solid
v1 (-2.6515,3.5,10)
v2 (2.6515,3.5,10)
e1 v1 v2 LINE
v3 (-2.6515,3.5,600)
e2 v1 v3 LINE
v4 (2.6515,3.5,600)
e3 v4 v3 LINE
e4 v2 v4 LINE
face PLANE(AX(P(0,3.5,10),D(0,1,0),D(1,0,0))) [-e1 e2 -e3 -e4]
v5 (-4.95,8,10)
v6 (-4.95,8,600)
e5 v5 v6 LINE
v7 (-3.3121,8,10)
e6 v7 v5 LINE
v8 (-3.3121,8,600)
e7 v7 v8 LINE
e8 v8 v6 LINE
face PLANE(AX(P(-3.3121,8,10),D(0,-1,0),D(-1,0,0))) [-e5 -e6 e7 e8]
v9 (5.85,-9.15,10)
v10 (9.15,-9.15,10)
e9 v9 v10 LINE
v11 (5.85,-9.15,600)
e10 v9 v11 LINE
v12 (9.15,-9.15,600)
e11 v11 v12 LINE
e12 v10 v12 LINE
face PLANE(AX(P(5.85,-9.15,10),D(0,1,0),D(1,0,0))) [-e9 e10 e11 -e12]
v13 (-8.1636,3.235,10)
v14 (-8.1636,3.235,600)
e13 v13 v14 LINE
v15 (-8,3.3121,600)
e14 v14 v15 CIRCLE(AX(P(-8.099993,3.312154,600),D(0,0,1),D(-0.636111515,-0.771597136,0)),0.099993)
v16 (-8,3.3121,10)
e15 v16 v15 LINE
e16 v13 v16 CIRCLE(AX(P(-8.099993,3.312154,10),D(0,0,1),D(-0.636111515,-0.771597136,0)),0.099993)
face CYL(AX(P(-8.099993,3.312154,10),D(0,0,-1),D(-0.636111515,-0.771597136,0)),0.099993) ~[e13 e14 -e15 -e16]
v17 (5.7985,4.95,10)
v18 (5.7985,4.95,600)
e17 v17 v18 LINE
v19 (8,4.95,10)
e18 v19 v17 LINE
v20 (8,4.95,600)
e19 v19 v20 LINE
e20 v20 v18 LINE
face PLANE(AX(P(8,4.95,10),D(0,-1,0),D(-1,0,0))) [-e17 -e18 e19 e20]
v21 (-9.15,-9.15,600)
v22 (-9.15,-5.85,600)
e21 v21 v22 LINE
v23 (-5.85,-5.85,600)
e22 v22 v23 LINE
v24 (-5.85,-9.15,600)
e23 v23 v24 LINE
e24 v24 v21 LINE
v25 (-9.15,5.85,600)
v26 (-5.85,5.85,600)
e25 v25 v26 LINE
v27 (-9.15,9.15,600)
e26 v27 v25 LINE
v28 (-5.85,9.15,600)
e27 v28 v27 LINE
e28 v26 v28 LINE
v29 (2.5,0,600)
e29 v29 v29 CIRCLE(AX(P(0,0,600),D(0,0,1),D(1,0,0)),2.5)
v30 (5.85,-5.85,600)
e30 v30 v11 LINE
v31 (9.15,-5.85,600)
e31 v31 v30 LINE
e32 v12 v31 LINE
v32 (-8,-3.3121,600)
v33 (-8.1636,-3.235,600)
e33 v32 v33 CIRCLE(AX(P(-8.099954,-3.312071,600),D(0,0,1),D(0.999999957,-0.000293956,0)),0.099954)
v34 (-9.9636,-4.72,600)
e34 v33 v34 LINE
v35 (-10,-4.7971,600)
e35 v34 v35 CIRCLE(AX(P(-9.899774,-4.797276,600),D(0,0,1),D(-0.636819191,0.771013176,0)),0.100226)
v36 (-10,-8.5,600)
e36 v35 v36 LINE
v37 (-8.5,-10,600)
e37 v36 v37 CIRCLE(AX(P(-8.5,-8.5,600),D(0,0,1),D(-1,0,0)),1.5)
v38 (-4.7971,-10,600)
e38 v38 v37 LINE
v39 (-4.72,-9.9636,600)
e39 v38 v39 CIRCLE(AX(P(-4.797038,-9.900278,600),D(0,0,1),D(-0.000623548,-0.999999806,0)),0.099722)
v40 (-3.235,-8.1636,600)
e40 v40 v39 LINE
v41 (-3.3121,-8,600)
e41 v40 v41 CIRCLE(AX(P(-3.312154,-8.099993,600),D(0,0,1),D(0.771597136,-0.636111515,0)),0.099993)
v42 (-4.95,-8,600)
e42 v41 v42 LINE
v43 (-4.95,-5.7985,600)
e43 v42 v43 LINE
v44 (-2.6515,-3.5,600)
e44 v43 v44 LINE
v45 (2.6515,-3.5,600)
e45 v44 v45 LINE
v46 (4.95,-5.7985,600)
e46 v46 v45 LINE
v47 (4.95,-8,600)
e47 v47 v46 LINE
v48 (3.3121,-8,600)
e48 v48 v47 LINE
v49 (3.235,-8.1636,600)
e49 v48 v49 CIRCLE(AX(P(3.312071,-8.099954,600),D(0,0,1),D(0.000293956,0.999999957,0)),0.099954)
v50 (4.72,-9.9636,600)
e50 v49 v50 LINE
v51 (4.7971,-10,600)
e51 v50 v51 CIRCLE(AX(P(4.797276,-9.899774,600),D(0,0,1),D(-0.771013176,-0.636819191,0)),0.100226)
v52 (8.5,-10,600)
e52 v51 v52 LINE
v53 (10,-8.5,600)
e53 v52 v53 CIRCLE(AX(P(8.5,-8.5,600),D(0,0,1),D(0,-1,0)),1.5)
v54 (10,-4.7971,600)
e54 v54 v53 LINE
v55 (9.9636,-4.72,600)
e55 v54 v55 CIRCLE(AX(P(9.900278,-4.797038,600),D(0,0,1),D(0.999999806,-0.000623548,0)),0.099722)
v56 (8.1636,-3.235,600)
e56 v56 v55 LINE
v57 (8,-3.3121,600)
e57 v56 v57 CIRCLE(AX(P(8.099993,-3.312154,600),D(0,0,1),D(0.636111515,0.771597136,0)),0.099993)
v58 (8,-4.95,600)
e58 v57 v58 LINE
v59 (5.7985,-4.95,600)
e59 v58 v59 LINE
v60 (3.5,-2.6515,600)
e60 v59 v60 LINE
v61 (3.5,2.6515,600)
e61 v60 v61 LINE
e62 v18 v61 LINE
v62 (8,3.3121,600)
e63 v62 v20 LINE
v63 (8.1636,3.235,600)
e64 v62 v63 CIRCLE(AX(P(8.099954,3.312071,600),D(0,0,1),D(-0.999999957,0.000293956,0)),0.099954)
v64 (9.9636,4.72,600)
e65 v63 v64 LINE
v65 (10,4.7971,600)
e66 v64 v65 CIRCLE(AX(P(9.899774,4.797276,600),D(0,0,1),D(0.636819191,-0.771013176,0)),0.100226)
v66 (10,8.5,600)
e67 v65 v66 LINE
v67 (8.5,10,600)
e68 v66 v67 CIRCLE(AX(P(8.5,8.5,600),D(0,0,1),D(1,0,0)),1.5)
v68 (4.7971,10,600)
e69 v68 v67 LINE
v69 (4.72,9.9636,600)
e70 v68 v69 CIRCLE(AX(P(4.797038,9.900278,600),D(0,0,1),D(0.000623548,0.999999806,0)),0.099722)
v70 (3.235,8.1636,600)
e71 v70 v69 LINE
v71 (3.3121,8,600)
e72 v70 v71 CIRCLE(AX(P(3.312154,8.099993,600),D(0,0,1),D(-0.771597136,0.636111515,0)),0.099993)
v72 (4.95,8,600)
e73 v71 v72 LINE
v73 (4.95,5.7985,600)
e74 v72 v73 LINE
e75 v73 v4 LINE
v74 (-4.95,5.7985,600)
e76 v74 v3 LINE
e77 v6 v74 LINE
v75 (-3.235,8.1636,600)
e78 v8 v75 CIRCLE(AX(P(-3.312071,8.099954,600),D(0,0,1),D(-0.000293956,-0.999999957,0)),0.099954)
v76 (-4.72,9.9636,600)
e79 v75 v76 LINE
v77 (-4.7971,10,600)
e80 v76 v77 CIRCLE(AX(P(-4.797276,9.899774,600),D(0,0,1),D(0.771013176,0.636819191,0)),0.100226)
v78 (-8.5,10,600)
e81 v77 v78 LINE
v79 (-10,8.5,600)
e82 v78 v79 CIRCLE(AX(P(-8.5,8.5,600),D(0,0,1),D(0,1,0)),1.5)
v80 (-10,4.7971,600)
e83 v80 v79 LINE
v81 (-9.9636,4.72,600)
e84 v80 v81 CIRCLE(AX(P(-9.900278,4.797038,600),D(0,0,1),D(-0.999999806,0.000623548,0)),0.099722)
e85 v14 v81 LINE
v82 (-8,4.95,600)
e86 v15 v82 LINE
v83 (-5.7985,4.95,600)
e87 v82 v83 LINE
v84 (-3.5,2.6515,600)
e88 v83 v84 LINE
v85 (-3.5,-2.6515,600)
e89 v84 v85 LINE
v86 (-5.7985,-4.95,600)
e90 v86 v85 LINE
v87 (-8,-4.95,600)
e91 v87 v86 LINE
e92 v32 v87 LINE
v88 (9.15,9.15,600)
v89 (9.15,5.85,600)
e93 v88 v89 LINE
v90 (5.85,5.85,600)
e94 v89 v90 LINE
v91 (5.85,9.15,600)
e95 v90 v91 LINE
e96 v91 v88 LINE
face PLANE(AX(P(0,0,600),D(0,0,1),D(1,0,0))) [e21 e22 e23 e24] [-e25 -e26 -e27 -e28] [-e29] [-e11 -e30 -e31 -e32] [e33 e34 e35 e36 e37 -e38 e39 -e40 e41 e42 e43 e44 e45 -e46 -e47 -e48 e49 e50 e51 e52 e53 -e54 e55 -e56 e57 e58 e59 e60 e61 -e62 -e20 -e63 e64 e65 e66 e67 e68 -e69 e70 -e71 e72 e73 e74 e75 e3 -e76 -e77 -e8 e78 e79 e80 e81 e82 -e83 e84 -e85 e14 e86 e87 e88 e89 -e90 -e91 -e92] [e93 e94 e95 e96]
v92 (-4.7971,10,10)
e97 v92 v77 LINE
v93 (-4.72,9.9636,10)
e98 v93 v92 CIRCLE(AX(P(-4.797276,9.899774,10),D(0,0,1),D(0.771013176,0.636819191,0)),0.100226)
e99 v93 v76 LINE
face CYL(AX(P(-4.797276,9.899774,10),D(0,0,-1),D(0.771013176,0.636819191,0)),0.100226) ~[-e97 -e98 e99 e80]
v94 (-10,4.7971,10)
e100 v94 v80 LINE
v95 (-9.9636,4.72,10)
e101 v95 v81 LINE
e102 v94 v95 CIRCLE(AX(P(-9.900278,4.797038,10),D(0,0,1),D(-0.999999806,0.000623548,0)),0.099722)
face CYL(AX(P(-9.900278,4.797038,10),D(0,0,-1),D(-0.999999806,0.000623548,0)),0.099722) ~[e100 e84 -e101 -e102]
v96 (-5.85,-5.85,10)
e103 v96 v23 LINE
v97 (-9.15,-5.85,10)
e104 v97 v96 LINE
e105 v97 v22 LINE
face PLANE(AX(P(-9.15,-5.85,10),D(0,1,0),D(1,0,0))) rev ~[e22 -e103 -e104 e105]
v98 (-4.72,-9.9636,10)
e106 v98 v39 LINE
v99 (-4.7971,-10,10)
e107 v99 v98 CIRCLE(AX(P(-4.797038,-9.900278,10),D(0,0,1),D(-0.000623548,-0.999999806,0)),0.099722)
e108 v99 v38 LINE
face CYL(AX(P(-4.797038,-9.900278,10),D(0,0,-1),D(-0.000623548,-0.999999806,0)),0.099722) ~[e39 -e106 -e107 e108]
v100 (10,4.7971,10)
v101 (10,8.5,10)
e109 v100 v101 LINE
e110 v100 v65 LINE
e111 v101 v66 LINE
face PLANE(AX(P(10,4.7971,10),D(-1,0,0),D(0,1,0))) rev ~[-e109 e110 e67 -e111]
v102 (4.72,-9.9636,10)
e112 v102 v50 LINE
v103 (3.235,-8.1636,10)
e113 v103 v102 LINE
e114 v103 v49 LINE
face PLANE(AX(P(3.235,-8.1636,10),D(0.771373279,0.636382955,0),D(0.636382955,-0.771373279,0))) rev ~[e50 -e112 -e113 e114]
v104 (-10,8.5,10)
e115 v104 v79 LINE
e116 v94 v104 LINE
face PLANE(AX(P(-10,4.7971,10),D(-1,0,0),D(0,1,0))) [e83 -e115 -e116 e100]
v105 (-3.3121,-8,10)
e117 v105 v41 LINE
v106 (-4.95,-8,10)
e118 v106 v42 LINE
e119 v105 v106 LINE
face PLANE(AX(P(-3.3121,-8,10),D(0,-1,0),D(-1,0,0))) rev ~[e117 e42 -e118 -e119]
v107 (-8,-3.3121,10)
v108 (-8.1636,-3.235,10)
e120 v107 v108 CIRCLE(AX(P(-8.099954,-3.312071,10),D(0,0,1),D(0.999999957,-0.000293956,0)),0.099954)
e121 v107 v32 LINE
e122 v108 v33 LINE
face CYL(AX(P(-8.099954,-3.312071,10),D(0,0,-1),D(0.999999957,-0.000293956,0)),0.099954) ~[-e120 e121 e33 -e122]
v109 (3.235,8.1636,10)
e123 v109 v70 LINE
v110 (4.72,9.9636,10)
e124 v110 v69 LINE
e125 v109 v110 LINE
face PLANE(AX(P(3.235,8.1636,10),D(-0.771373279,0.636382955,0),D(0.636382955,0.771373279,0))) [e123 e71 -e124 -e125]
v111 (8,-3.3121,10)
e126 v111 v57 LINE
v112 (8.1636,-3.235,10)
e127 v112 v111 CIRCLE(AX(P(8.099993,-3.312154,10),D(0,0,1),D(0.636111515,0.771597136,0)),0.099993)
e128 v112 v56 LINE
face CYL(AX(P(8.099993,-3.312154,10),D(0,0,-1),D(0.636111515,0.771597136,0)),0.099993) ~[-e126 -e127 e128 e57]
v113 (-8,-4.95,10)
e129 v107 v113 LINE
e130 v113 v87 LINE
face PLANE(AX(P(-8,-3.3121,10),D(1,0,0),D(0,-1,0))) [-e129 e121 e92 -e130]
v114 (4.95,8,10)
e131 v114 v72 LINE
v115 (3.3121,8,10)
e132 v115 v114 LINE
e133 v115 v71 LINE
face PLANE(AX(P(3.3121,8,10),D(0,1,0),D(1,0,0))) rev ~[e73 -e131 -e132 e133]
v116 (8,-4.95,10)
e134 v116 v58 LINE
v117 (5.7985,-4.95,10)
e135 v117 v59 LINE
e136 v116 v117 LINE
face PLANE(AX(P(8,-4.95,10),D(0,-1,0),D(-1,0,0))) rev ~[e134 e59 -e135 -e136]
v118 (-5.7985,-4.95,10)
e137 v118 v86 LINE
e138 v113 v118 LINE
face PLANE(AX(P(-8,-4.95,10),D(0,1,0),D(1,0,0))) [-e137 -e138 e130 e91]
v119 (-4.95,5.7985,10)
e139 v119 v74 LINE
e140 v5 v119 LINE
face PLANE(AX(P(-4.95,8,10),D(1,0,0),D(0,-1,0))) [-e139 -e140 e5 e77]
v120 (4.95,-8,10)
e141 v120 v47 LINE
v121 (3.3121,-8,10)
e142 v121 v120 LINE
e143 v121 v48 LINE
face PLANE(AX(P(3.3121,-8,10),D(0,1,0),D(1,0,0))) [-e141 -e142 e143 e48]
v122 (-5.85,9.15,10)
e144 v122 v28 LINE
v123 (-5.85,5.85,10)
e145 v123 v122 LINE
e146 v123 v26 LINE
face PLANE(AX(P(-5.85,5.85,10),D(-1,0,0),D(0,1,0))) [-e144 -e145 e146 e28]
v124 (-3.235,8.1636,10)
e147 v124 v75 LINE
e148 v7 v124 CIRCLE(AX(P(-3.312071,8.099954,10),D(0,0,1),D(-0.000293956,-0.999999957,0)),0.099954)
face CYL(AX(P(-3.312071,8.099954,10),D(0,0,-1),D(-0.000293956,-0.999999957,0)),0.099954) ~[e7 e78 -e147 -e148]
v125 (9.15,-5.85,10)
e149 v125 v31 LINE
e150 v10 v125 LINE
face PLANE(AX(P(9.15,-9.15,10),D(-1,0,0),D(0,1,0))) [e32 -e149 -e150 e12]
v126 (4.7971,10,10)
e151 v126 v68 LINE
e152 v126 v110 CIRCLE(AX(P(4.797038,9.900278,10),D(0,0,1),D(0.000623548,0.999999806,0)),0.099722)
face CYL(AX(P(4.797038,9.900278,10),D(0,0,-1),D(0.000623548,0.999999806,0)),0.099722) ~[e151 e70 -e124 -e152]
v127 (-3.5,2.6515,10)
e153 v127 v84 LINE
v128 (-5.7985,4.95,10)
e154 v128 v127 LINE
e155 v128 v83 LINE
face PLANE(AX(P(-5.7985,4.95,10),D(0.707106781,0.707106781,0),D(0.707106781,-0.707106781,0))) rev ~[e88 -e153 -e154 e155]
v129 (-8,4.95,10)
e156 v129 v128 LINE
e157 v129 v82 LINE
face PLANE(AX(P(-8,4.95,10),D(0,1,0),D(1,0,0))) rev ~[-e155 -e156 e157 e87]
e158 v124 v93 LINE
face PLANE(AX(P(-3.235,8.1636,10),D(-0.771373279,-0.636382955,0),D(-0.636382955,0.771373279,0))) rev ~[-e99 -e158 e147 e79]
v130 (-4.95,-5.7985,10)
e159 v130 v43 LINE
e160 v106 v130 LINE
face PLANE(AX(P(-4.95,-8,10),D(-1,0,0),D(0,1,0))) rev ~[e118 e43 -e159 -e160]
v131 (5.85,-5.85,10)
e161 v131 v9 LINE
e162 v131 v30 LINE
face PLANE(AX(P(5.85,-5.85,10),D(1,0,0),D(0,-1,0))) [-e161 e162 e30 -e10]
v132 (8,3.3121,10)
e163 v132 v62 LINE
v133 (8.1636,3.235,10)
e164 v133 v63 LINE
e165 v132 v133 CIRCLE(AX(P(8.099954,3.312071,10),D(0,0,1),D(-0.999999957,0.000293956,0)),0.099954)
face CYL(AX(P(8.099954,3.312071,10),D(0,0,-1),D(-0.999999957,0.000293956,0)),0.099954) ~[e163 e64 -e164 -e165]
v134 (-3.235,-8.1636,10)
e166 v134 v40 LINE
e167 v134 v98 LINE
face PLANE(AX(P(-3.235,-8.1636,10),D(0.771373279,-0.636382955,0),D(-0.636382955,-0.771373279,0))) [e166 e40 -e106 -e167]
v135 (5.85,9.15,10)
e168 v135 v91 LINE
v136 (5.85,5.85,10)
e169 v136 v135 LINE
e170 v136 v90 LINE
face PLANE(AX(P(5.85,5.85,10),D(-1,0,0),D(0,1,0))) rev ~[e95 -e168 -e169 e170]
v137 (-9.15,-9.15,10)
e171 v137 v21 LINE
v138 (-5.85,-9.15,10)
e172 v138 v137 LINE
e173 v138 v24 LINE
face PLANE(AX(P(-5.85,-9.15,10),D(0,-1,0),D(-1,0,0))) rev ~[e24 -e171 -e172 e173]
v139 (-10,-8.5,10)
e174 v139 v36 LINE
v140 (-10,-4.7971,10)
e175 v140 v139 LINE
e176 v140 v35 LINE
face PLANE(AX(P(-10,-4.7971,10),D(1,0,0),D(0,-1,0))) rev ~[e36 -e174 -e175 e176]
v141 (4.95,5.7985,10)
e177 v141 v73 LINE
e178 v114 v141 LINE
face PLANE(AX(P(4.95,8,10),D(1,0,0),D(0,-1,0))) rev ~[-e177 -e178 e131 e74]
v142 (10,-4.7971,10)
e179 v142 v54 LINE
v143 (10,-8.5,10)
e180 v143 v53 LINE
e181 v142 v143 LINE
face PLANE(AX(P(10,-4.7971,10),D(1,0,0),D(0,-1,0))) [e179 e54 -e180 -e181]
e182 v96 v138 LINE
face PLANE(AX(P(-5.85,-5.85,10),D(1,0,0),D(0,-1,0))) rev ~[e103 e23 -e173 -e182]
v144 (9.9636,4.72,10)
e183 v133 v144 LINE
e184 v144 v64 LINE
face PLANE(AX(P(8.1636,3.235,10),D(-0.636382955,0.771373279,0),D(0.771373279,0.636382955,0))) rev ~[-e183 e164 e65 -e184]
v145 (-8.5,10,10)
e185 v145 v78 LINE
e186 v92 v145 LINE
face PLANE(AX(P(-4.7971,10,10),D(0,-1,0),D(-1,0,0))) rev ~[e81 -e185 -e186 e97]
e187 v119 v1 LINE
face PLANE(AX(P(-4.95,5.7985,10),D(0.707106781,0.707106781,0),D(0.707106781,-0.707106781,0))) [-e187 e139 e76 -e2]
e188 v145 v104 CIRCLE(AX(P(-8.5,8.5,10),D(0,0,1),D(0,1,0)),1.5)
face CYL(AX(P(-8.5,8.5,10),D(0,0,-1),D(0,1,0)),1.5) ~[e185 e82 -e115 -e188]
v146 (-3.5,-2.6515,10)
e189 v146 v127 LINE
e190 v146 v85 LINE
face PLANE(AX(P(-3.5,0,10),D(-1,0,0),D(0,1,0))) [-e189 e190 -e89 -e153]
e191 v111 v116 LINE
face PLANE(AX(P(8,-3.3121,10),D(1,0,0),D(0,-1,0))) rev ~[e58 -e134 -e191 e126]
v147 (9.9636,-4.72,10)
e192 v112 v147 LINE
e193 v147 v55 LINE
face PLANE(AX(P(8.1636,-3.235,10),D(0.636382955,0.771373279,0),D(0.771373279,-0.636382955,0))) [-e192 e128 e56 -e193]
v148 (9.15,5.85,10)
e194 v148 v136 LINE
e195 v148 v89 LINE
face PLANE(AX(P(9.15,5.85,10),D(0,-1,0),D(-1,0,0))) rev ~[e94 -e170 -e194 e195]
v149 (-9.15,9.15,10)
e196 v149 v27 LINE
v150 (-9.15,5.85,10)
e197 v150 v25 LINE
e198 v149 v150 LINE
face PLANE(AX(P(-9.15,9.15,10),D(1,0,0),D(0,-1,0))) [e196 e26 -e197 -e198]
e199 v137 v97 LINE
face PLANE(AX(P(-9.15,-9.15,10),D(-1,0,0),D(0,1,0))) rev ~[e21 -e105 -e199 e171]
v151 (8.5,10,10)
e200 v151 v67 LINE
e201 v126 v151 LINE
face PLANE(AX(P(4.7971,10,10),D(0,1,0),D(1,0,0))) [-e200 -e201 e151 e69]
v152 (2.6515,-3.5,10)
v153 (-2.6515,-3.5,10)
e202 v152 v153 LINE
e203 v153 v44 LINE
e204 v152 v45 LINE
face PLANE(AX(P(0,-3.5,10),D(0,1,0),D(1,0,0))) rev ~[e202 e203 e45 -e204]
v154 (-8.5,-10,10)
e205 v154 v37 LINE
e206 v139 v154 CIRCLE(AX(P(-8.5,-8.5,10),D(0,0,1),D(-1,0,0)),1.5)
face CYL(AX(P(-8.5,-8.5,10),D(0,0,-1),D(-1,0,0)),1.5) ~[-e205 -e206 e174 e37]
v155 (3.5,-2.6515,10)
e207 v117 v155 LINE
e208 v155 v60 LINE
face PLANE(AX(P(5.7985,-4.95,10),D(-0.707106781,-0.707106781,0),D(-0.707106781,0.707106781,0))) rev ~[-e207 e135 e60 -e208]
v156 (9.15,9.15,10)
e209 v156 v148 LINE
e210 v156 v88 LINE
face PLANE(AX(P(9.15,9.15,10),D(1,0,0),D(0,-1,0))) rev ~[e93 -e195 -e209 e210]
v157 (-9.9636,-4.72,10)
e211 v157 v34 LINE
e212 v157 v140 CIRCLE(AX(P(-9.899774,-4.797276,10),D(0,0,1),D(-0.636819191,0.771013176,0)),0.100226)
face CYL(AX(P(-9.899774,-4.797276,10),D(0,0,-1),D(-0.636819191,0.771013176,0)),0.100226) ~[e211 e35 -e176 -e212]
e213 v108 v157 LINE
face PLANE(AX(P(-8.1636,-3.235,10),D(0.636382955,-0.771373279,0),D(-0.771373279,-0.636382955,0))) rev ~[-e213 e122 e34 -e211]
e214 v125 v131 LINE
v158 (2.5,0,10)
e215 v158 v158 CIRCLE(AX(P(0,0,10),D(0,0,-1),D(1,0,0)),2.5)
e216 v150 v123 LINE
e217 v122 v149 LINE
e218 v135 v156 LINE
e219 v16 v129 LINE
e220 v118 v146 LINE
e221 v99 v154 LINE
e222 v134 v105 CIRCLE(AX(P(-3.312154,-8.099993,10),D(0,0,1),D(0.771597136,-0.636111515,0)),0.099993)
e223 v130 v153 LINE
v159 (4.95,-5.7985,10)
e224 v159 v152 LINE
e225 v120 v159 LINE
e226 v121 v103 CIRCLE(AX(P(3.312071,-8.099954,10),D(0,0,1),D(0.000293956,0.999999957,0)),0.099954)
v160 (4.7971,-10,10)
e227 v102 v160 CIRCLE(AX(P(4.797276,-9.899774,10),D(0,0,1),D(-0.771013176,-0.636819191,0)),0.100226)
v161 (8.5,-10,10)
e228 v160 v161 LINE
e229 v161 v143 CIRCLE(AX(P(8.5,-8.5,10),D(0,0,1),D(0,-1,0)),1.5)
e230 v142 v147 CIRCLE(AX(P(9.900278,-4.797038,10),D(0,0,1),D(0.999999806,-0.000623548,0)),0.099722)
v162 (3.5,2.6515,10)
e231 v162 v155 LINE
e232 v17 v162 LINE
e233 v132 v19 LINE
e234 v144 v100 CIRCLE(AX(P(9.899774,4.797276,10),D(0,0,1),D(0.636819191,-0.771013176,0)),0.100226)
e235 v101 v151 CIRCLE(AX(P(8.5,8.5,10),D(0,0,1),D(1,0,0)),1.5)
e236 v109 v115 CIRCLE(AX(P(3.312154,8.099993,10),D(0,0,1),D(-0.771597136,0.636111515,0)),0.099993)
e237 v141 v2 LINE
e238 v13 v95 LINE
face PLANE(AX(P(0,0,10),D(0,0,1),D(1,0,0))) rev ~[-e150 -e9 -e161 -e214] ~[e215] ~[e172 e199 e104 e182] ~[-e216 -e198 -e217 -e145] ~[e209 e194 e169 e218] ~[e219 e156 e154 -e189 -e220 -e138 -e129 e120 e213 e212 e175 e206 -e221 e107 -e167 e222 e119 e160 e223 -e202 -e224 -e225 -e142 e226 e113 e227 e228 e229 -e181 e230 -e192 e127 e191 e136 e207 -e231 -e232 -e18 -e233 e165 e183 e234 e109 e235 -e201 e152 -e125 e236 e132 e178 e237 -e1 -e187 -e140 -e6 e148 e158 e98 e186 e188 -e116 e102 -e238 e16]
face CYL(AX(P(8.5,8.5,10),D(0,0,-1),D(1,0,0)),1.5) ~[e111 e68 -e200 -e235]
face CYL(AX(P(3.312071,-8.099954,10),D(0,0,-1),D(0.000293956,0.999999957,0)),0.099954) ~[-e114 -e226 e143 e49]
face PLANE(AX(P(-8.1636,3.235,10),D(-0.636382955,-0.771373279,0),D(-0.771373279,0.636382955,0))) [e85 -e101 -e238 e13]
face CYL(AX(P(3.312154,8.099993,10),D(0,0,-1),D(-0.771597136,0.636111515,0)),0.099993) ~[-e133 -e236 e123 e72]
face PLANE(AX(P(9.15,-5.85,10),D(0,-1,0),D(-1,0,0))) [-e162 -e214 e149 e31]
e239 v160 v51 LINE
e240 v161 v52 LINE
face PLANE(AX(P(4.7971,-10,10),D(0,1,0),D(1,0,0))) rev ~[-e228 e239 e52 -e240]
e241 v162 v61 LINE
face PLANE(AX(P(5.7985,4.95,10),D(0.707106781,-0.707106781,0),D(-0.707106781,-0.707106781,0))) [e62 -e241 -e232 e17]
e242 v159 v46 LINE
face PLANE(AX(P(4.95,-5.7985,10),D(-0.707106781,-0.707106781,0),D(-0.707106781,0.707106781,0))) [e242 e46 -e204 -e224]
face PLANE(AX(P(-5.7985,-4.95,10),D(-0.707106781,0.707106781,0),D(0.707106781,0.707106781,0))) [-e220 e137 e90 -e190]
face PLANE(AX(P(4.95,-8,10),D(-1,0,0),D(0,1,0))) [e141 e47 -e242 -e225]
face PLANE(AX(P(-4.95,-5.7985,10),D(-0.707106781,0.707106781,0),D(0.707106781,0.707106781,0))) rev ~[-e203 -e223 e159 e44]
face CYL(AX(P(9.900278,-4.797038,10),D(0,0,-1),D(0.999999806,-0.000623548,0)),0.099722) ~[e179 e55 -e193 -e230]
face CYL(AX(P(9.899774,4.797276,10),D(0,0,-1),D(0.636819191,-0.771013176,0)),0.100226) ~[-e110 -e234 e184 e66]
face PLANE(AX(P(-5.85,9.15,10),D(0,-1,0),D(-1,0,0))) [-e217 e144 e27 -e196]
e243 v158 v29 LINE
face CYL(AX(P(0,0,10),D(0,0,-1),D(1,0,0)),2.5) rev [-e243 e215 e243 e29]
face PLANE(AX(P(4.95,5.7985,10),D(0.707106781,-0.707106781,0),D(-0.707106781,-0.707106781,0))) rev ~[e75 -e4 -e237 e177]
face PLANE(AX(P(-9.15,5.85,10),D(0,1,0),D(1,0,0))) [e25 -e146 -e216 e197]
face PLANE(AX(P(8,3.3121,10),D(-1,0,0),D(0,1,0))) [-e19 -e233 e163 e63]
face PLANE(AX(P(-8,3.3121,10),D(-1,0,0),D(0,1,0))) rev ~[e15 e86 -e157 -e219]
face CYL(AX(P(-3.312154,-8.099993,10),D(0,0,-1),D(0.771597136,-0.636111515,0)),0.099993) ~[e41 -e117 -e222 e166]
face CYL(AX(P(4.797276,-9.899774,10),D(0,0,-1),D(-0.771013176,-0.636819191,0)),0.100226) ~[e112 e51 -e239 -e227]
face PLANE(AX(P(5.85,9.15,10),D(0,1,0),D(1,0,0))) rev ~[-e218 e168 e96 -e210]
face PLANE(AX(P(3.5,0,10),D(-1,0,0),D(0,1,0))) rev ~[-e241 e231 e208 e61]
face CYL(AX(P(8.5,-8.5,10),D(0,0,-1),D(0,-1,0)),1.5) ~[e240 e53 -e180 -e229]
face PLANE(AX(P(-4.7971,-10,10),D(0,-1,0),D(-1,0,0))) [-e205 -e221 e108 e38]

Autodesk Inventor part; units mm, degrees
ref_plane "Начальная плоскость" through (0, 0, 10) normal (0, 0, 1) x (1, 0, 0)
ref_plane "Конечная плоскость" through (0, 0, 600) normal (0, 0, 1) x (1, 0, 0)
sketch "Эскиз" plane through (0, 0, 0) normal (0, 0, 1) x (1, 0, 0)
  line L0 (-14.4349, 0) -> (14.4349, 0) projected
  line L1 (0, -14) -> (0, 14) projected
  line L2 (0, 0) -> (7.5, 7.5) construction
  circle A0 centre (7.5, 7.5) radius 1.65 construction
  line L3 (5.85, 9.15) -> (9.15, 9.15)
  line L4 (9.15, 9.15) -> (9.15, 5.85)
  line L5 (9.15, 5.85) -> (5.85, 5.85)
  line L6 (5.85, 5.85) -> (5.85, 9.15)
  line L7 (3.235, 8.1636) -> (4.72, 9.9636)
  line L8 (4.7971, 10) -> (8.5, 10)
  line L9 (3.3121, 8) -> (4.95, 8)
  line L10 (4.95, 8) -> (4.95, 5.7985)
  line L11 (4.95, 5.7985) -> (2.6515, 3.5)
  line L12 (0, 3.5) -> (2.6515, 3.5)
  circle A1 centre (0, 0) radius 2.5
  line L13 (8.1636, 3.235) -> (9.9636, 4.72)
  line L14 (10, 4.7971) -> (10, 8.5)
  line L15 (8, 3.3121) -> (8, 4.95)
  line L16 (8, 4.95) -> (5.7985, 4.95)
  line L17 (5.7985, 4.95) -> (3.5, 2.6515)
  line L18 (3.5, 0) -> (3.5, 2.6515)
  arc A2 (10, 8.5) -> (8.5, 10) centre (8.5, 8.5) ccw
  line L19 (0, 0) -> (-7.5, 7.5) construction
  circle A3 centre (-7.5, 7.5) radius 1.65 construction
  line L20 (-5.85, 9.15) -> (-9.15, 9.15)
  line L21 (-9.15, 9.15) -> (-9.15, 5.85)
  line L22 (-9.15, 5.85) -> (-5.85, 5.85)
  line L23 (-5.85, 5.85) -> (-5.85, 9.15)
  line L24 (-3.235, 8.1636) -> (-4.72, 9.9636)
  line L25 (-4.7971, 10) -> (-8.5, 10)
  line L26 (-3.3121, 8) -> (-4.95, 8)
  line L27 (-4.95, 8) -> (-4.95, 5.7985)
  line L28 (-4.95, 5.7985) -> (-2.6515, 3.5)
  line L29 (0, 3.5) -> (-2.6515, 3.5)
  line L30 (-3.5, 0) -> (-3.5, 2.6515)
  line L31 (-5.7985, 4.95) -> (-3.5, 2.6515)
  line L32 (-8, 4.95) -> (-5.7985, 4.95)
  line L33 (-8, 3.3121) -> (-8, 4.95)
  line L34 (-8.1636, 3.235) -> (-9.9636, 4.72)
  line L35 (-10, 4.7971) -> (-10, 8.5)
  arc A4 (-8.5, 10) -> (-10, 8.5) centre (-8.5, 8.5) ccw
  line L36 (0, 14) -> (0, -14)
  line L37 (0, 0) -> (7.5, -7.5) construction
  circle A5 centre (7.5, -7.5) radius 1.65 construction
  line L38 (5.85, -9.15) -> (9.15, -9.15)
  line L39 (9.15, -9.15) -> (9.15, -5.85)
  line L40 (9.15, -5.85) -> (5.85, -5.85)
  line L41 (5.85, -5.85) -> (5.85, -9.15)
  line L42 (3.235, -8.1636) -> (4.72, -9.9636)
  line L43 (4.7971, -10) -> (8.5, -10)
  line L44 (3.3121, -8) -> (4.95, -8)
  line L45 (4.95, -8) -> (4.95, -5.7985)
  line L46 (4.95, -5.7985) -> (2.6515, -3.5)
  line L47 (0, -3.5) -> (2.6515, -3.5)
  line L48 (3.5, 0) -> (3.5, -2.6515)
  line L49 (5.7985, -4.95) -> (3.5, -2.6515)
  line L50 (8, -4.95) -> (5.7985, -4.95)
  line L51 (8, -3.3121) -> (8, -4.95)
  line L52 (8.1636, -3.235) -> (9.9636, -4.72)
  line L53 (10, -4.7971) -> (10, -8.5)
  arc A6 (8.5, -10) -> (10, -8.5) centre (8.5, -8.5) ccw
  line L54 (0, 0) -> (-7.5, -7.5) construction
  line L55 (-4.95, -8) -> (-4.95, -5.7985)
  line L56 (-3.3121, -8) -> (-4.95, -8)
  line L57 (-5.7985, -4.95) -> (-3.5, -2.6515)
  line L58 (-4.95, -5.7985) -> (-2.6515, -3.5)
  line L59 (-3.5, 0) -> (-3.5, -2.6515)
  line L60 (0, -3.5) -> (-2.6515, -3.5)
  circle A7 centre (-7.5, -7.5) radius 1.65 construction
  line L61 (-5.85, -5.85) -> (-5.85, -9.15)
  line L62 (-5.85, -9.15) -> (-9.15, -9.15)
  line L63 (-9.15, -9.15) -> (-9.15, -5.85)
  line L64 (-9.15, -5.85) -> (-5.85, -5.85)
  line L65 (-3.235, -8.1636) -> (-4.72, -9.9636)
  line L66 (-8, -4.95) -> (-5.7985, -4.95)
  line L67 (-8, -3.3121) -> (-8, -4.95)
  line L68 (-8.1636, -3.235) -> (-9.9636, -4.72)
  line L69 (-4.7971, -10) -> (-8.5, -10)
  line L70 (-10, -4.7971) -> (-10, -8.5)
  arc A8 (-10, -8.5) -> (-8.5, -10) centre (-8.5, -8.5) ccw
  arc A9 (3.235, 8.1636) -> (3.3121, 8) centre (3.3121, 8.1) ccw
  arc A10 (4.7971, 10) -> (4.72, 9.9636) centre (4.7971, 9.9) ccw
  arc A11 (8, 3.3121) -> (8.1636, 3.235) centre (8.1, 3.3121) ccw
  arc A12 (9.9636, 4.72) -> (10, 4.7971) centre (9.9, 4.7971) ccw
  arc A13 (-3.3121, 8) -> (-3.235, 8.1636) centre (-3.3121, 8.1) ccw
  arc A14 (-4.72, 9.9636) -> (-4.7971, 10) centre (-4.7971, 9.9) ccw
  arc A15 (-8.1636, 3.235) -> (-8, 3.3121) centre (-8.1, 3.3121) ccw
  arc A16 (-10, 4.7971) -> (-9.9636, 4.72) centre (-9.9, 4.7971) ccw
  arc A17 (-8, -3.3121) -> (-8.1636, -3.235) centre (-8.1, -3.3121) ccw
  arc A18 (-9.9636, -4.72) -> (-10, -4.7971) centre (-9.9, -4.7971) ccw
  arc A19 (-3.235, -8.1636) -> (-3.3121, -8) centre (-3.3121, -8.1) ccw
  arc A20 (-4.7971, -10) -> (-4.72, -9.9636) centre (-4.7971, -9.9) ccw
  arc A21 (4.72, -9.9636) -> (4.7971, -10) centre (4.7971, -9.9) ccw
  arc A22 (3.3121, -8) -> (3.235, -8.1636) centre (3.3121, -8.1) ccw
  arc A23 (8.1636, -3.235) -> (8, -3.3121) centre (8.1, -3.3121) ccw
  arc A24 (10, -4.7971) -> (9.9636, -4.72) centre (9.9, -4.7971) ccw
  point P0 (3.1, 8)
  point P1 (4.75, 10)
  point P2 (7.5, 9.15)
  point P3 (8, 3.1)
  point P4 (10, 4.75)
  point P5 (7.5, 5.85)
  point P6 (9.15, 7.5)
  point P7 (-3.1, 8)
  point P8 (-4.75, 10)
  point P9 (-7.5, 9.15)
  point P10 (-8, 3.1)
  point P11 (-10, 4.75)
  point P12 (-7.5, 5.85)
  point P13 (-9.15, 7.5)
  point P14 (3.1, -8)
  point P15 (4.75, -10)
  point P16 (7.5, -9.15)
  point P17 (8, -3.1)
  point P18 (10, -4.75)
  point P19 (7.5, -5.85)
  point P20 (9.15, -7.5)
  point P21 (-3.1, -8)
  point P22 (-7.5, -5.85)
  point P23 (-7.5, -9.15)
  point P24 (-9.15, -7.5)
  point P25 (-4.75, -10)
  point P26 (-8, -3.1)
  point P27 (-10, -4.75)
  dimension "d0" = 45
  dimension "d1" = 3.3
  dimension "d2" = 1.5
  dimension "d3" = 1.2
  dimension "d4" = 5
  dimension "d5" = 6.5
  dimension "d6" = 15
  dimension "d7" = 20
  dimension "d8" = 9.9
  dimension "d9" = 9.5
  dimension "d10" = 6.2
  dimension "d11" = 2
  dimension "d18" = 0.1
  dimension "d19" = 0.1
extrude "Тело" add sketch "Эскиз" along normal up to surface (590 mm away) from surface at 10 contours A1 L1 L12 L11 L10 L9 A9 L7 A10 L8 A2 L14 A12 L13 A11 L15 L16 L17 L18 L0 | L0 L48 L49 L50 L51 A23 L52 A24 L53 A6 L43 A21 L42 A22 L44 L45 L46 L47 L1 A1 | A1 L0 L30 L31 L32 L33 A15 L34 A16 L35 A4 L25 A14 L24 A13 L26 L27 L28 L29 L1 | L1 L60 L58 L55 L56 A19 L65 A20 L69 A8 L70 A18 L68 A17 L67 L66 L57 L59 L0 A1
sketch "Эскиз2" plane through (0, 0, 0) normal (0, 0, 1) x (1, 0, 0)
  line L0 (0, 0) -> (10, 0)
ref_plane "РабПлоскость3" through (0, 0, 0) normal (0, -1, 0) x (1, 0, 0)
sketch "Эскиз3" plane through (0, 0, 0) normal (0, -1, 0) x (1, 0, 0)
  line L0 (-2, 10) -> (12, 10)
  line L1 (-2, 600) -> (12, 600)
  dimension "d25" = 590
ref_plane "РабПлоскость4" through (0, -300, 10) normal (0, 0, -1) x (-1, 0, 0)
split "Разделение1" plane through (0, -300, 10) removes the side toward (0, 0, -1)
ref_plane "РабПлоскость5" through (50, 0, 10) normal (0, 0, -1) x (-1, 0, 0)
split "Разделение2" plane through (50, 0, 10) removes the side toward (0, 0, -1)
equation "\"G_OFFSET_END\" = 0"
properties part number "короткая палка"
